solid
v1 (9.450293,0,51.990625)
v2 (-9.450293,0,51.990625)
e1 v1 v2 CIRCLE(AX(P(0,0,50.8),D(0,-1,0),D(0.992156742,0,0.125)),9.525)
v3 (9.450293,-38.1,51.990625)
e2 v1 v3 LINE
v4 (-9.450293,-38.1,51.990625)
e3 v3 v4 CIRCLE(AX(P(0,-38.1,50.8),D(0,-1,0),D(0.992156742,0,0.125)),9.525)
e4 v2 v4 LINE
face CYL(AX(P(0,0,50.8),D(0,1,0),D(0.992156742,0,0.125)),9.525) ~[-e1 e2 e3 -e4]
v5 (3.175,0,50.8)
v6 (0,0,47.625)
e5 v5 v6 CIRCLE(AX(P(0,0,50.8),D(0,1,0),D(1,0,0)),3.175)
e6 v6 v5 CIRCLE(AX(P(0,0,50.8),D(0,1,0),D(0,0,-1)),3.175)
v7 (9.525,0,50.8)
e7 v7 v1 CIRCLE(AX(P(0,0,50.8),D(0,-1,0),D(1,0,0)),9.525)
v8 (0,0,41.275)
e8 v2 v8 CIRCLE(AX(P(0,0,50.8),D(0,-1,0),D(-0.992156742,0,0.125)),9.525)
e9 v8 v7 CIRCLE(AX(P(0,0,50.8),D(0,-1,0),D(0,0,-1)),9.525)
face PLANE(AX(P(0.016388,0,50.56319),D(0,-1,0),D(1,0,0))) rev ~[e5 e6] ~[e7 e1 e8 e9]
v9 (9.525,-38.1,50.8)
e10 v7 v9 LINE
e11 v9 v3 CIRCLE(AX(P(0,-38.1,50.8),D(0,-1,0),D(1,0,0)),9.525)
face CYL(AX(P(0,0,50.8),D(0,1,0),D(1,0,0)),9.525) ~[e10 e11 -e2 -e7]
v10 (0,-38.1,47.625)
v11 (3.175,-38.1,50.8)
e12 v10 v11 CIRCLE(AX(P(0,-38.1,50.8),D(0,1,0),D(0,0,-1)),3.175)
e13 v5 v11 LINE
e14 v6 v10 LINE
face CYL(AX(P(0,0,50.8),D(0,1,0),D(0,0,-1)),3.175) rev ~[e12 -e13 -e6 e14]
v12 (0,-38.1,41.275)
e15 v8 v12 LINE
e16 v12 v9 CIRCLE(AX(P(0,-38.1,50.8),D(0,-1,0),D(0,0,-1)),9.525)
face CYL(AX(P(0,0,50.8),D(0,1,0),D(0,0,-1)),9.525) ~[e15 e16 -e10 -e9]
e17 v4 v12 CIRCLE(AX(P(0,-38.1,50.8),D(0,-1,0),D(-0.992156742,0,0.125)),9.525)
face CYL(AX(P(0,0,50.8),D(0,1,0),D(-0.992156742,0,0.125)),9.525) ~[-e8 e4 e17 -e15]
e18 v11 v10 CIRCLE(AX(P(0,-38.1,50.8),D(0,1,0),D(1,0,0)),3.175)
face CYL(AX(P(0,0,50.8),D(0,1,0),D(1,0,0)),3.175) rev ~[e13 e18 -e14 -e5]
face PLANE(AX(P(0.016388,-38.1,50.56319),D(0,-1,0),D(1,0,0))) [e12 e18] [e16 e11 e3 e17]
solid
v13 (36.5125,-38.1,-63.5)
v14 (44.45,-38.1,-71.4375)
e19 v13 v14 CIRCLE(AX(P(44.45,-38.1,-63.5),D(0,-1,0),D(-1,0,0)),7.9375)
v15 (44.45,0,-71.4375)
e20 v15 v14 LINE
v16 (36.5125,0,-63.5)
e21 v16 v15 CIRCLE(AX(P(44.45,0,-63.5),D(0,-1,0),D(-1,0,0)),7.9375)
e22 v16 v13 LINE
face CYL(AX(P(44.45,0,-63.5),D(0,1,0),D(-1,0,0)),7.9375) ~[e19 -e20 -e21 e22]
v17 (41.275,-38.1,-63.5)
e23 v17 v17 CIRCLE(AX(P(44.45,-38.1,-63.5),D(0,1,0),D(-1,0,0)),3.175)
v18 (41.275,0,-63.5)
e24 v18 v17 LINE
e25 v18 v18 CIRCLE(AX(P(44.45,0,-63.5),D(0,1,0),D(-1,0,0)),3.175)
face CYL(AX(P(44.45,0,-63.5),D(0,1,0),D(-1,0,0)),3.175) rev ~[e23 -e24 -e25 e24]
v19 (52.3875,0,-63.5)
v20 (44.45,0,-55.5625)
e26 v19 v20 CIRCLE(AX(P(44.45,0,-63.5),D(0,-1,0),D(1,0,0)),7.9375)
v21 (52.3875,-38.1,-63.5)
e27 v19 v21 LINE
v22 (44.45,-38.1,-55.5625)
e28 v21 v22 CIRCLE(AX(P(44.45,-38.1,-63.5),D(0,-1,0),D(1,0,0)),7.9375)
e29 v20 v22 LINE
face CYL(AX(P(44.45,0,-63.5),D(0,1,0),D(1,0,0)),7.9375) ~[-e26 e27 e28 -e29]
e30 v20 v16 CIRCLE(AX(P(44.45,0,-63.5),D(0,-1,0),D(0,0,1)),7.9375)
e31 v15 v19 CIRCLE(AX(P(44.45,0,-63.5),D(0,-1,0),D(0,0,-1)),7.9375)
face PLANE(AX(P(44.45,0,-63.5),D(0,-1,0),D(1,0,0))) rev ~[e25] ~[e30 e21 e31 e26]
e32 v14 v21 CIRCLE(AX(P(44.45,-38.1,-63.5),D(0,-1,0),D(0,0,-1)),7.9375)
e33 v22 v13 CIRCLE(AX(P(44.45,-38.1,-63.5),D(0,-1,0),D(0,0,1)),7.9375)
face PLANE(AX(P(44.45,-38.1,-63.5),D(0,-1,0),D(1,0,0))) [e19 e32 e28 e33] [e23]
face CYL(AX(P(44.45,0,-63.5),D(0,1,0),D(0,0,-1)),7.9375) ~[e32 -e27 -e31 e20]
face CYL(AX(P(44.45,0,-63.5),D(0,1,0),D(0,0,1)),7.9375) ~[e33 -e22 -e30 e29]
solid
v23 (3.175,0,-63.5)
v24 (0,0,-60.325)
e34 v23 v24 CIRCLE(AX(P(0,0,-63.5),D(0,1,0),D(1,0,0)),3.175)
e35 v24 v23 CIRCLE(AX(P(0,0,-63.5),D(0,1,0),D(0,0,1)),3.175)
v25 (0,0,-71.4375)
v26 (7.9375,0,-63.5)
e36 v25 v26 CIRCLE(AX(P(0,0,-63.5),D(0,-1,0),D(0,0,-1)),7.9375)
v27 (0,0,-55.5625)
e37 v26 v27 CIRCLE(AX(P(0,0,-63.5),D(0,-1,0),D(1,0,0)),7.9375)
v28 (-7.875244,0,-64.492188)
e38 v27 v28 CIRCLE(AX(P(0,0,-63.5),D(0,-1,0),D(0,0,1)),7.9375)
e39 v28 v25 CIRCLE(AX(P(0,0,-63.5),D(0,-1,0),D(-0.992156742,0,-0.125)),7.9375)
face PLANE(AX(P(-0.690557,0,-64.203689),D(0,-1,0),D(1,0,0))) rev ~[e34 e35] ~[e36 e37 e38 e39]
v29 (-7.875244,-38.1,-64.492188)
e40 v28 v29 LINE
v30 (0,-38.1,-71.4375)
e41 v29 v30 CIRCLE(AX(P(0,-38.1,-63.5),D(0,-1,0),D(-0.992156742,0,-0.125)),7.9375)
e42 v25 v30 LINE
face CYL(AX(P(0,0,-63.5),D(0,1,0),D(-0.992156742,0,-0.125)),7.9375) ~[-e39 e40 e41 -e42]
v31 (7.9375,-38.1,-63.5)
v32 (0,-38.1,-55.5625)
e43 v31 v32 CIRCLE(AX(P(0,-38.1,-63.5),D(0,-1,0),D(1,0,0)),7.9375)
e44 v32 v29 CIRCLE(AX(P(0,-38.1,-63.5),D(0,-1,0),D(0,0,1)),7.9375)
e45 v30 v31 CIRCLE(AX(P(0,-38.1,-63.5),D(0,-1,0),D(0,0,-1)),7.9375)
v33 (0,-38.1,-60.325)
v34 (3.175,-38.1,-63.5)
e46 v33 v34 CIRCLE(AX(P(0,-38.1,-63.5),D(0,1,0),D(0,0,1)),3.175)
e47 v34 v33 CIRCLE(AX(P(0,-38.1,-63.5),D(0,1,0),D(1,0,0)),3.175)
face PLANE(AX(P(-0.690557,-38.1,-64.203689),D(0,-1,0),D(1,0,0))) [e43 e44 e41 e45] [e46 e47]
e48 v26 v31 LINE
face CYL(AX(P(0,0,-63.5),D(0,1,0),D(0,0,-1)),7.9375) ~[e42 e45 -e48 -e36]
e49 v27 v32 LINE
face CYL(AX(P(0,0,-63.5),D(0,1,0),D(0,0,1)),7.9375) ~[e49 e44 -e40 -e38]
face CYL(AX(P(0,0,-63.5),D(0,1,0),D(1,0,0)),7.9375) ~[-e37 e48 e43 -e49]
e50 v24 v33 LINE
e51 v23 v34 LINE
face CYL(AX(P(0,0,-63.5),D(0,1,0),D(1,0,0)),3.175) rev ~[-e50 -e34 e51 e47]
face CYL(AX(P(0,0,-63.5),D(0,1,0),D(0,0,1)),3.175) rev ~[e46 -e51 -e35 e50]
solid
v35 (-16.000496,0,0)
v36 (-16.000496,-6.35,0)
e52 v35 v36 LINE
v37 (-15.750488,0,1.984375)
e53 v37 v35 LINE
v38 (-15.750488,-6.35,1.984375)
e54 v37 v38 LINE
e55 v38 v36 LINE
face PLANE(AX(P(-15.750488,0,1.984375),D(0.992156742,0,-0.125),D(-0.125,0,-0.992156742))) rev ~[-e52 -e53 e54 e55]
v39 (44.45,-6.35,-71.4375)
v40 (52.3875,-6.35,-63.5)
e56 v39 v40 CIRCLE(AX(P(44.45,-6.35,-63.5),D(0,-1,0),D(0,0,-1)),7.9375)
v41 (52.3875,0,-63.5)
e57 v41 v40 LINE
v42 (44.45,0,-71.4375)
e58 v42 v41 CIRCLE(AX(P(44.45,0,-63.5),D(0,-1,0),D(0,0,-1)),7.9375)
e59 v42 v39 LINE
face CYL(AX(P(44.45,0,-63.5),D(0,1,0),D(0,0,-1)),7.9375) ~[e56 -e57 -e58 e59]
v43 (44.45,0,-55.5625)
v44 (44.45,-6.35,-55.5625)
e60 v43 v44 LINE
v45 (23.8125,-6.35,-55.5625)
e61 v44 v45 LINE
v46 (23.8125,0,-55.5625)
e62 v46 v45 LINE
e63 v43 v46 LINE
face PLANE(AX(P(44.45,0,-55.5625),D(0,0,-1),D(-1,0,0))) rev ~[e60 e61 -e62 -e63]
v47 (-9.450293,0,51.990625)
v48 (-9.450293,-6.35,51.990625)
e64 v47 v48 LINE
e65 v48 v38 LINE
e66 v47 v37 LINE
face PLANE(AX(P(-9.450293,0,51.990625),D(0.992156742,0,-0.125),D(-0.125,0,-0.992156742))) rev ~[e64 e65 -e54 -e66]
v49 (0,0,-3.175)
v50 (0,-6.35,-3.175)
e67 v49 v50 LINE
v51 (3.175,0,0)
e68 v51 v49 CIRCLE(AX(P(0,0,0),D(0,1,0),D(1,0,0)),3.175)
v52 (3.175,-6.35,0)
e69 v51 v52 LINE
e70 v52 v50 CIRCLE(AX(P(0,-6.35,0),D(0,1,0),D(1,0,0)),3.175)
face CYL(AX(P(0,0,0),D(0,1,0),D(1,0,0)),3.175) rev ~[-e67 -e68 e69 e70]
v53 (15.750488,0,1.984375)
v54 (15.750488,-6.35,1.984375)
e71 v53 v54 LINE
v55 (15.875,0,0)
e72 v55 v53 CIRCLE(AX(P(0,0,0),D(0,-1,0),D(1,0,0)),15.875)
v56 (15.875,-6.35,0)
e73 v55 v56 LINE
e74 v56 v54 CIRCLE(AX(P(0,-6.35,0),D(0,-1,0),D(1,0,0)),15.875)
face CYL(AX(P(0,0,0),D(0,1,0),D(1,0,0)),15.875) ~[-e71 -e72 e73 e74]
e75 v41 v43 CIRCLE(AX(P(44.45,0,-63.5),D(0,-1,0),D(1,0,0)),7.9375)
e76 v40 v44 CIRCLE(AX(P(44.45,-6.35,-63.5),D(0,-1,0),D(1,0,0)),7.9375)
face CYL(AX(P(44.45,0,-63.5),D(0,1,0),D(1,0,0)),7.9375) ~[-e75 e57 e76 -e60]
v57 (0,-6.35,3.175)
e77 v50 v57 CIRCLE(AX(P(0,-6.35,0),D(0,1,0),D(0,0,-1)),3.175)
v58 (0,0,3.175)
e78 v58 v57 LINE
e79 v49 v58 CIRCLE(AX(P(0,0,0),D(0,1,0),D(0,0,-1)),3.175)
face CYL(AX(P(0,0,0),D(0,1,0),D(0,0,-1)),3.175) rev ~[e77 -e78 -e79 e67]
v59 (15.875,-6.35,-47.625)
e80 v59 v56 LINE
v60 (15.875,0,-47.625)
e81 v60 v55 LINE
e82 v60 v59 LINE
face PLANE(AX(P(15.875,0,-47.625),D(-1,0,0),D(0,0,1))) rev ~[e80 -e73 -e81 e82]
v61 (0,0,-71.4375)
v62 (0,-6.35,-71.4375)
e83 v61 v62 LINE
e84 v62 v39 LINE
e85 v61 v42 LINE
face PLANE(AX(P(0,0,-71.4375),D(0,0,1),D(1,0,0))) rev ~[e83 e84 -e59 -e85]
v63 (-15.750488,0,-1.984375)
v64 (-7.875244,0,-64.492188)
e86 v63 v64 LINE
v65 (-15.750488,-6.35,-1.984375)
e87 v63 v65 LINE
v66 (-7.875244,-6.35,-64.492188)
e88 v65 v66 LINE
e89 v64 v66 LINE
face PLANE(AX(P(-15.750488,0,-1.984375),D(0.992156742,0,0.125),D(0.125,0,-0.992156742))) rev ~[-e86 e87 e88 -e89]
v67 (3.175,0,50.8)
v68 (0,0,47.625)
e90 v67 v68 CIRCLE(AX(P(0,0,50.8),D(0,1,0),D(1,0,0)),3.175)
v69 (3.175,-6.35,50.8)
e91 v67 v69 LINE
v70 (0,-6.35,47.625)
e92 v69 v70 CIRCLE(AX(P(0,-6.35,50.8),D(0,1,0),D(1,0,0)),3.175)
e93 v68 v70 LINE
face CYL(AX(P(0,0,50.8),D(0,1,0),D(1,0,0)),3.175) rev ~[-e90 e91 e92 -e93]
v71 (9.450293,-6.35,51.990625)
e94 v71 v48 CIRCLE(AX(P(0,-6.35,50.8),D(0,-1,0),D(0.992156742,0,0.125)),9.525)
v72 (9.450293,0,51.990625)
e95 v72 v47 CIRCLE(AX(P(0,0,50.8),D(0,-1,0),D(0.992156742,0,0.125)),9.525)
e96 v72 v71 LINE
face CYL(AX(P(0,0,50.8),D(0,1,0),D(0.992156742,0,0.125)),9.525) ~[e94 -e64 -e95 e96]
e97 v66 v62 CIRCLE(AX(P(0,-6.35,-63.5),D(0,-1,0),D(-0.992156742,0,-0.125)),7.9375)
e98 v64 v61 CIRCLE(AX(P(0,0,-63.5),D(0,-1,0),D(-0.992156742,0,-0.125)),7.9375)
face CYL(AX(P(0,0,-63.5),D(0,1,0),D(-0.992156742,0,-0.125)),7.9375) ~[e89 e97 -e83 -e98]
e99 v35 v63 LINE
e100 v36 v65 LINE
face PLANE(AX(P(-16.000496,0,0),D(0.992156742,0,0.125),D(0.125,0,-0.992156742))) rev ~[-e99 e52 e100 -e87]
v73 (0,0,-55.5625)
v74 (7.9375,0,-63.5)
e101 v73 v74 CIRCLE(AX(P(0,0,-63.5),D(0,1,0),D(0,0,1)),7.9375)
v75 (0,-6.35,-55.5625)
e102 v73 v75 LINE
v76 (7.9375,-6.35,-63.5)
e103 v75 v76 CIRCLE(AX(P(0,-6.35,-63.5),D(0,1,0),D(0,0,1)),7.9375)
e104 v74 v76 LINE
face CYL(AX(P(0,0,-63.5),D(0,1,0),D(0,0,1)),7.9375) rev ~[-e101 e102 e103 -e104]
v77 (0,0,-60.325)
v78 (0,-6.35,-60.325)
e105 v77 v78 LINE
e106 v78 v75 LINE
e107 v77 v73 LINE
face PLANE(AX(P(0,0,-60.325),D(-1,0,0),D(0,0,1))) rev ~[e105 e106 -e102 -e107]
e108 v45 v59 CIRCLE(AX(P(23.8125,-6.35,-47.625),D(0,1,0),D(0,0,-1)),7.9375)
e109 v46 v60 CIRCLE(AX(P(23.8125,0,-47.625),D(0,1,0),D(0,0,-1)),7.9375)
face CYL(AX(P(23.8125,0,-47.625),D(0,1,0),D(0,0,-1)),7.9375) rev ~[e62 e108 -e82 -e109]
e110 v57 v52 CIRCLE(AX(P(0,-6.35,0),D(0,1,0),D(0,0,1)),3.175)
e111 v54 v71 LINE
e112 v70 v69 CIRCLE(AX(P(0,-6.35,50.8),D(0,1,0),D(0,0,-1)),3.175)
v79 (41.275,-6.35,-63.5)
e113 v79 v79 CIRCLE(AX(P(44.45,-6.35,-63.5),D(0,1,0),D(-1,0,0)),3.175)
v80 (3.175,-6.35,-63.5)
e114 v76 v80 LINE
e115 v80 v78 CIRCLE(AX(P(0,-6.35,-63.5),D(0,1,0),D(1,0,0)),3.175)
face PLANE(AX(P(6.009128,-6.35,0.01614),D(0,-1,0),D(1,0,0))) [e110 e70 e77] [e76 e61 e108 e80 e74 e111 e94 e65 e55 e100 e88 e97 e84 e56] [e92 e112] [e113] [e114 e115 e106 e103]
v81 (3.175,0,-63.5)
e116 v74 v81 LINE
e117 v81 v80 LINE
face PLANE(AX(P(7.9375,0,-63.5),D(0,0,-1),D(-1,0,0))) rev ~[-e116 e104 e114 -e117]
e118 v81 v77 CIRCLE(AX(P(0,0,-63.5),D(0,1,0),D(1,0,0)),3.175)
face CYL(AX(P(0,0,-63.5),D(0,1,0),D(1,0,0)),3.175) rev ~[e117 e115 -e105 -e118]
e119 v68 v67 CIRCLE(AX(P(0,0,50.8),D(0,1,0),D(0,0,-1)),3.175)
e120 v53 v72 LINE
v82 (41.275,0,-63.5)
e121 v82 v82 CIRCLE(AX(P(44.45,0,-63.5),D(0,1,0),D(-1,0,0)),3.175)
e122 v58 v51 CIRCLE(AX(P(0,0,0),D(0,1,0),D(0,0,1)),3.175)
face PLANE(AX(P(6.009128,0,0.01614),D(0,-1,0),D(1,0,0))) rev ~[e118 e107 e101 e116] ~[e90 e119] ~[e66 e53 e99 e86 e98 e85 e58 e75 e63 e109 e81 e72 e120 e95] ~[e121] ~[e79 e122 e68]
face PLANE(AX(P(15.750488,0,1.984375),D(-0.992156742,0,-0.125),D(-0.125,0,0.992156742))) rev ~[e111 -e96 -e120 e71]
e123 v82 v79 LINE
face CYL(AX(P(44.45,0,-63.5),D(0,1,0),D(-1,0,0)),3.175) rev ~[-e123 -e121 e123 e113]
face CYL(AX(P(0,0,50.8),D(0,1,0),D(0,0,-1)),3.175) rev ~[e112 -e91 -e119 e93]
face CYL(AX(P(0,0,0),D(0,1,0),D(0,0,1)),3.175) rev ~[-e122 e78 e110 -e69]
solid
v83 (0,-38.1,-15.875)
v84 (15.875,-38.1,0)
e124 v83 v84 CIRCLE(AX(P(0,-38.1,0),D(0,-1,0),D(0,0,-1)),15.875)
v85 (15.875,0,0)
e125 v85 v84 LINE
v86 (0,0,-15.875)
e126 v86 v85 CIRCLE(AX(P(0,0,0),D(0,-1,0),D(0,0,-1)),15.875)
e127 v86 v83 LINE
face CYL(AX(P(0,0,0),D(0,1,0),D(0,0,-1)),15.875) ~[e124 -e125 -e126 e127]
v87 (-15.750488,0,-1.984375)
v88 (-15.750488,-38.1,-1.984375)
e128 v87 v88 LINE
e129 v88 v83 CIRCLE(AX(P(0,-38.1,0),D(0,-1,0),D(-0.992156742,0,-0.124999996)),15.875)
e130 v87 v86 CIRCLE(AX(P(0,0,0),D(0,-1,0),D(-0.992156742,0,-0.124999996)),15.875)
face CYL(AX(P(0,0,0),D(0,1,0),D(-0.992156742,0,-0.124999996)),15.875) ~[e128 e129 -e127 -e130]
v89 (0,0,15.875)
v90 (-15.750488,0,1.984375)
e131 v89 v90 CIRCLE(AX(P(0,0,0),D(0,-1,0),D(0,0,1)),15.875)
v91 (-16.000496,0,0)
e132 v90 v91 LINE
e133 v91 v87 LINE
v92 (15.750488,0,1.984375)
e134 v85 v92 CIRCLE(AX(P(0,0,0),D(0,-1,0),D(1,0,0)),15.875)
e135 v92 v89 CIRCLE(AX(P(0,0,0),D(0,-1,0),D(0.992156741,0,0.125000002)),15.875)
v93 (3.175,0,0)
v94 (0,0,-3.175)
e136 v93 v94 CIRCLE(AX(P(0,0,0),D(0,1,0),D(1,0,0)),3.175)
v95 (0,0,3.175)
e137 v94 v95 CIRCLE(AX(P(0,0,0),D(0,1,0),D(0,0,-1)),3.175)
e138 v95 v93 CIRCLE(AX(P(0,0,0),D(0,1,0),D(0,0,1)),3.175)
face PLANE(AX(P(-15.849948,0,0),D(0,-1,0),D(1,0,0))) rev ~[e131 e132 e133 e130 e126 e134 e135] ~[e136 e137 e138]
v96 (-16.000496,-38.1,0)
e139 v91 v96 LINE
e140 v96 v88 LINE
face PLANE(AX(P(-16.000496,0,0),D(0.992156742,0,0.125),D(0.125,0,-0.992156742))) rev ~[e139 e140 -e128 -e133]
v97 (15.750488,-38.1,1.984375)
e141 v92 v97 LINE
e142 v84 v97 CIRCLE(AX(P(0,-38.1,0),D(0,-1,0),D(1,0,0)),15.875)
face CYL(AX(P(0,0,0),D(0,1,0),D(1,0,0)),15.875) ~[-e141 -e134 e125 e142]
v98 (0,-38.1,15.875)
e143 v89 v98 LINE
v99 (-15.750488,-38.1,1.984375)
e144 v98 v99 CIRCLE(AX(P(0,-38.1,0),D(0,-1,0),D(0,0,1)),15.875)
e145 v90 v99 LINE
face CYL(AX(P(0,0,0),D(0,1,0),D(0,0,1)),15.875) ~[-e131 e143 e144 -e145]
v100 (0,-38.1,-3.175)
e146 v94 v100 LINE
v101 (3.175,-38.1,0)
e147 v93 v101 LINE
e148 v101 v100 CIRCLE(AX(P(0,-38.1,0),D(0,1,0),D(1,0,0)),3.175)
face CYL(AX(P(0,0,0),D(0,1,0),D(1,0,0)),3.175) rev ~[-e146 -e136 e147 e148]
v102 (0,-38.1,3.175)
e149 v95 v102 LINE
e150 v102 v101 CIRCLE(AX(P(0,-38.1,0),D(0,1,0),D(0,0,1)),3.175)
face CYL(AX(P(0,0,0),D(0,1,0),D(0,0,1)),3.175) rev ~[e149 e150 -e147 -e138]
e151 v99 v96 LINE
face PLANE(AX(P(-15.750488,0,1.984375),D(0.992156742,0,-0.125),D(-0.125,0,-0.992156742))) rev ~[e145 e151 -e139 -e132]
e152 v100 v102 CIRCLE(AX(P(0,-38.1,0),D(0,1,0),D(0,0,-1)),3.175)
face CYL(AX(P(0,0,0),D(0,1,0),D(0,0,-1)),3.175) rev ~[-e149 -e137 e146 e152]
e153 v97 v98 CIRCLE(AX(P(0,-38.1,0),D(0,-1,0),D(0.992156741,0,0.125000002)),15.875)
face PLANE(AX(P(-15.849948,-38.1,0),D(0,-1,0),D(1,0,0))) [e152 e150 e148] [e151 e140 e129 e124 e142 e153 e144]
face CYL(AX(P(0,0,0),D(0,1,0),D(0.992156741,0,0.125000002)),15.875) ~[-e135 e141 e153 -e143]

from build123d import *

# Parameters (mm, degrees)
F1_DEPTH = 38.1
F2_DEPTH = 6.35


with BuildPart() as f1:
    # F0 (on Front) → F1 (new body)
    with BuildSketch(Plane.XZ):
        with BuildLine():
            Line((-16.0004960241, 0), (-15.7504882823, -1.9843749313))
            ThreePointArc((-15.7504882823, -1.9843749313), (-15.875, -3.16e-08), (-15.7504882902, 1.9843748686))
            Line((-15.7504882902, 1.9843748686), (-16.0004960241, 0))
        make_face()
        with BuildLine():
            ThreePointArc((0, -15.875), (11.2253201513, -11.2253201513), (15.875, 0))
            ThreePointArc((15.875, 0), (15.8438414895, 0.9941387503), (15.7504882702, 1.9843750273))
            ThreePointArc((15.7504882702, 1.9843750273), (10.5003255055, 11.9062500091), (0, 15.875))
            Line((0, 15.875), (0, 3.175))
            ThreePointArc((0, 3.175), (2.2450640303, 2.2450640303), (3.175, 0))
            ThreePointArc((3.175, 0), (2.2450640303, -2.2450640303), (0, -3.175))
            Line((0, -3.175), (0, -15.875))
        make_face()
        with BuildLine():
            ThreePointArc((-15.7504882823, -1.9843749313), (-10.5003255418, -11.9062499771), (0, -15.875))
            Line((0, -15.875), (0, -3.175))
            ThreePointArc((0, -3.175), (-3.175, 0), (0, 3.175))
            Line((0, 3.175), (0, 15.875))
            ThreePointArc((0, 15.875), (-10.5003255655, 11.9062499562), (-15.7504882902, 1.9843748686))
            ThreePointArc((-15.7504882902, 1.9843748686), (-15.875, -3.16e-08), (-15.7504882823, -1.9843749313))
        make_face()
    extrude(amount=F1_DEPTH)


with BuildPart() as f1b:
    # F0 (on Front) → F1, piece 2 (new body)
    with BuildSketch(Plane.XZ):
        with BuildLine():
            ThreePointArc((9.525, 50.8), (9.5063048942, 51.396483242), (9.4502929642, 51.990625))
            ThreePointArc((9.4502929642, 51.990625), (0, 60.325), (-9.4502929642, 51.990625))
            ThreePointArc((-9.4502929642, 51.990625), (-7.14375, 44.4998046905), (0, 41.275))
            ThreePointArc((0, 41.275), (6.7351920908, 44.0648079092), (9.525, 50.8))
        make_face()
        with BuildLine():
            ThreePointArc((3.175, 50.8), (2.2450640303, 48.5549359697), (0, 47.625))
            ThreePointArc((0, 47.625), (-2.2450640303, 53.0450640303), (3.175, 50.8))
        make_face(mode=Mode.SUBTRACT)
    extrude(amount=F1_DEPTH)


with BuildPart() as f1c:
    # F0 (on Front) → F1, piece 3 (new body)
    with BuildSketch(Plane.XZ):
        with BuildLine():
            ThreePointArc((52.3875, -63.5), (50.0626600757, -57.8873399243), (44.45, -55.5625))
            ThreePointArc((44.45, -55.5625), (38.8373399243, -57.8873399243), (36.5125, -63.5))
            ThreePointArc((36.5125, -63.5), (38.8373399243, -69.1126600757), (44.45, -71.4375))
            ThreePointArc((44.45, -71.4375), (50.0626600757, -69.1126600757), (52.3875, -63.5))
        make_face()
        with BuildLine():
            ThreePointArc((47.625, -63.5), (44.45, -66.675), (41.275, -63.5))
            ThreePointArc((41.275, -63.5), (44.45, -60.325), (47.625, -63.5))
        make_face(mode=Mode.SUBTRACT)
    extrude(amount=F1_DEPTH)


with BuildPart() as f1d:
    # F0 (on Front) → F1, piece 4 (new body)
    with BuildSketch(Plane.XZ):
        with BuildLine():
            Line((0, -60.325), (0, -55.5625))
            ThreePointArc((0, -55.5625), (-5.953125, -58.2498372421), (-7.8752441368, -64.4921875))
            ThreePointArc((-7.8752441368, -64.4921875), (-5.2501627579, -69.453125), (0, -71.4375))
            ThreePointArc((0, -71.4375), (5.6126600757, -69.1126600757), (7.9375, -63.5))
            Line((7.9375, -63.5), (3.175, -63.5))
            ThreePointArc((3.175, -63.5), (-2.2450640303, -65.7450640303), (0, -60.325))
        make_face()
        with BuildLine():
            ThreePointArc((7.9375, -63.5), (5.6126600757, -57.8873399243), (0, -55.5625))
            Line((0, -55.5625), (0, -60.325))
            ThreePointArc((0, -60.325), (2.2450640303, -61.2549359697), (3.175, -63.5))
            Line((3.175, -63.5), (7.9375, -63.5))
        make_face()
    extrude(amount=F1_DEPTH)


with BuildPart() as f2:
    # F0 (on Front) → F2 (new body)
    with BuildSketch(Plane.XZ):
        with BuildLine():
            ThreePointArc((0, -15.875), (11.2253201513, -11.2253201513), (15.875, 0))
            ThreePointArc((15.875, 0), (15.8438414895, 0.9941387503), (15.7504882702, 1.9843750273))
            ThreePointArc((15.7504882702, 1.9843750273), (10.5003255055, 11.9062500091), (0, 15.875))
            Line((0, 15.875), (0, 3.175))
            ThreePointArc((0, 3.175), (2.2450640303, 2.2450640303), (3.175, 0))
            ThreePointArc((3.175, 0), (2.2450640303, -2.2450640303), (0, -3.175))
            Line((0, -3.175), (0, -15.875))
        make_face()
        with BuildLine():
            Line((15.875, -47.625), (15.875, 0))
            ThreePointArc((15.875, 0), (11.2253201513, -11.2253201513), (0, -15.875))
            Line((0, -15.875), (0, -55.5625))
            ThreePointArc((0, -55.5625), (5.6126600757, -57.8873399243), (7.9375, -63.5))
            Line((7.9375, -63.5), (36.5125, -63.5))
            ThreePointArc((36.5125, -63.5), (38.8373399243, -57.8873399243), (44.45, -55.5625))
            Line((44.45, -55.5625), (23.8125, -55.5625))
            ThreePointArc((23.8125, -55.5625), (18.1998399243, -53.2376600757), (15.875, -47.625))
        make_face()
        with BuildLine():
            ThreePointArc((0, 15.875), (10.5003255055, 11.9062500091), (15.7504882702, 1.9843750273))
            Line((15.7504882702, 1.9843750273), (9.4502929642, 51.990625))
            ThreePointArc((9.4502929642, 51.990625), (9.5063048942, 51.396483242), (9.525, 50.8))
            ThreePointArc((9.525, 50.8), (6.7351920908, 44.0648079092), (0, 41.275))
            Line((0, 41.275), (0, 15.875))
        make_face()
        with BuildLine():
            Line((0, -55.5625), (0, -15.875))
            ThreePointArc((0, -15.875), (-10.5003255418, -11.9062499771), (-15.7504882823, -1.9843749313))
            Line((-15.7504882823, -1.9843749313), (-7.8752441368, -64.4921875))
            ThreePointArc((-7.8752441368, -64.4921875), (-5.953125, -58.2498372421), (0, -55.5625))
        make_face()
        with BuildLine():
            ThreePointArc((-15.7504882823, -1.9843749313), (-10.5003255418, -11.9062499771), (0, -15.875))
            Line((0, -15.875), (0, -3.175))
            ThreePointArc((0, -3.175), (-3.175, 0), (0, 3.175))
            Line((0, 3.175), (0, 15.875))
            ThreePointArc((0, 15.875), (-10.5003255655, 11.9062499562), (-15.7504882902, 1.9843748686))
            ThreePointArc((-15.7504882902, 1.9843748686), (-15.875, -3.16e-08), (-15.7504882823, -1.9843749313))
        make_face()
        with BuildLine():
            ThreePointArc((-15.7504882902, 1.9843748686), (-10.5003255655, 11.9062499562), (0, 15.875))
            Line((0, 15.875), (0, 41.275))
            ThreePointArc((0, 41.275), (-7.14375, 44.4998046905), (-9.4502929642, 51.990625))
            Line((-9.4502929642, 51.990625), (-15.7504882902, 1.9843748686))
        make_face()
        with BuildLine():
            ThreePointArc((9.525, 50.8), (9.5063048942, 51.396483242), (9.4502929642, 51.990625))
            ThreePointArc((9.4502929642, 51.990625), (0, 60.325), (-9.4502929642, 51.990625))
            ThreePointArc((-9.4502929642, 51.990625), (-7.14375, 44.4998046905), (0, 41.275))
            ThreePointArc((0, 41.275), (6.7351920908, 44.0648079092), (9.525, 50.8))
        make_face()
        with BuildLine():
            ThreePointArc((3.175, 50.8), (2.2450640303, 48.5549359697), (0, 47.625))
            ThreePointArc((0, 47.625), (-2.2450640303, 53.0450640303), (3.175, 50.8))
        make_face(mode=Mode.SUBTRACT)
        with BuildLine():
            Line((-16.0004960241, 0), (-15.7504882823, -1.9843749313))
            ThreePointArc((-15.7504882823, -1.9843749313), (-15.875, -3.16e-08), (-15.7504882902, 1.9843748686))
            Line((-15.7504882902, 1.9843748686), (-16.0004960241, 0))
        make_face()
        with BuildLine():
            Line((0, -60.325), (0, -55.5625))
            ThreePointArc((0, -55.5625), (-5.953125, -58.2498372421), (-7.8752441368, -64.4921875))
            ThreePointArc((-7.8752441368, -64.4921875), (-5.2501627579, -69.453125), (0, -71.4375))
            ThreePointArc((0, -71.4375), (5.6126600757, -69.1126600757), (7.9375, -63.5))
            Line((7.9375, -63.5), (3.175, -63.5))
            ThreePointArc((3.175, -63.5), (-2.2450640303, -65.7450640303), (0, -60.325))
        make_face()
        with BuildLine():
            Line((36.5125, -63.5), (7.9375, -63.5))
            ThreePointArc((7.9375, -63.5), (5.6126600757, -69.1126600757), (0, -71.4375))
            Line((0, -71.4375), (44.45, -71.4375))
            ThreePointArc((44.45, -71.4375), (38.8373399243, -69.1126600757), (36.5125, -63.5))
        make_face()
        with BuildLine():
            ThreePointArc((52.3875, -63.5), (50.0626600757, -57.8873399243), (44.45, -55.5625))
            ThreePointArc((44.45, -55.5625), (38.8373399243, -57.8873399243), (36.5125, -63.5))
            ThreePointArc((36.5125, -63.5), (38.8373399243, -69.1126600757), (44.45, -71.4375))
            ThreePointArc((44.45, -71.4375), (50.0626600757, -69.1126600757), (52.3875, -63.5))
        make_face()
        with BuildLine():
            ThreePointArc((47.625, -63.5), (44.45, -66.675), (41.275, -63.5))
            ThreePointArc((41.275, -63.5), (44.45, -60.325), (47.625, -63.5))
        make_face(mode=Mode.SUBTRACT)
    extrude(amount=F2_DEPTH)


solid = Compound([f1.part, f1b.part, f1c.part, f1d.part, f2.part])
